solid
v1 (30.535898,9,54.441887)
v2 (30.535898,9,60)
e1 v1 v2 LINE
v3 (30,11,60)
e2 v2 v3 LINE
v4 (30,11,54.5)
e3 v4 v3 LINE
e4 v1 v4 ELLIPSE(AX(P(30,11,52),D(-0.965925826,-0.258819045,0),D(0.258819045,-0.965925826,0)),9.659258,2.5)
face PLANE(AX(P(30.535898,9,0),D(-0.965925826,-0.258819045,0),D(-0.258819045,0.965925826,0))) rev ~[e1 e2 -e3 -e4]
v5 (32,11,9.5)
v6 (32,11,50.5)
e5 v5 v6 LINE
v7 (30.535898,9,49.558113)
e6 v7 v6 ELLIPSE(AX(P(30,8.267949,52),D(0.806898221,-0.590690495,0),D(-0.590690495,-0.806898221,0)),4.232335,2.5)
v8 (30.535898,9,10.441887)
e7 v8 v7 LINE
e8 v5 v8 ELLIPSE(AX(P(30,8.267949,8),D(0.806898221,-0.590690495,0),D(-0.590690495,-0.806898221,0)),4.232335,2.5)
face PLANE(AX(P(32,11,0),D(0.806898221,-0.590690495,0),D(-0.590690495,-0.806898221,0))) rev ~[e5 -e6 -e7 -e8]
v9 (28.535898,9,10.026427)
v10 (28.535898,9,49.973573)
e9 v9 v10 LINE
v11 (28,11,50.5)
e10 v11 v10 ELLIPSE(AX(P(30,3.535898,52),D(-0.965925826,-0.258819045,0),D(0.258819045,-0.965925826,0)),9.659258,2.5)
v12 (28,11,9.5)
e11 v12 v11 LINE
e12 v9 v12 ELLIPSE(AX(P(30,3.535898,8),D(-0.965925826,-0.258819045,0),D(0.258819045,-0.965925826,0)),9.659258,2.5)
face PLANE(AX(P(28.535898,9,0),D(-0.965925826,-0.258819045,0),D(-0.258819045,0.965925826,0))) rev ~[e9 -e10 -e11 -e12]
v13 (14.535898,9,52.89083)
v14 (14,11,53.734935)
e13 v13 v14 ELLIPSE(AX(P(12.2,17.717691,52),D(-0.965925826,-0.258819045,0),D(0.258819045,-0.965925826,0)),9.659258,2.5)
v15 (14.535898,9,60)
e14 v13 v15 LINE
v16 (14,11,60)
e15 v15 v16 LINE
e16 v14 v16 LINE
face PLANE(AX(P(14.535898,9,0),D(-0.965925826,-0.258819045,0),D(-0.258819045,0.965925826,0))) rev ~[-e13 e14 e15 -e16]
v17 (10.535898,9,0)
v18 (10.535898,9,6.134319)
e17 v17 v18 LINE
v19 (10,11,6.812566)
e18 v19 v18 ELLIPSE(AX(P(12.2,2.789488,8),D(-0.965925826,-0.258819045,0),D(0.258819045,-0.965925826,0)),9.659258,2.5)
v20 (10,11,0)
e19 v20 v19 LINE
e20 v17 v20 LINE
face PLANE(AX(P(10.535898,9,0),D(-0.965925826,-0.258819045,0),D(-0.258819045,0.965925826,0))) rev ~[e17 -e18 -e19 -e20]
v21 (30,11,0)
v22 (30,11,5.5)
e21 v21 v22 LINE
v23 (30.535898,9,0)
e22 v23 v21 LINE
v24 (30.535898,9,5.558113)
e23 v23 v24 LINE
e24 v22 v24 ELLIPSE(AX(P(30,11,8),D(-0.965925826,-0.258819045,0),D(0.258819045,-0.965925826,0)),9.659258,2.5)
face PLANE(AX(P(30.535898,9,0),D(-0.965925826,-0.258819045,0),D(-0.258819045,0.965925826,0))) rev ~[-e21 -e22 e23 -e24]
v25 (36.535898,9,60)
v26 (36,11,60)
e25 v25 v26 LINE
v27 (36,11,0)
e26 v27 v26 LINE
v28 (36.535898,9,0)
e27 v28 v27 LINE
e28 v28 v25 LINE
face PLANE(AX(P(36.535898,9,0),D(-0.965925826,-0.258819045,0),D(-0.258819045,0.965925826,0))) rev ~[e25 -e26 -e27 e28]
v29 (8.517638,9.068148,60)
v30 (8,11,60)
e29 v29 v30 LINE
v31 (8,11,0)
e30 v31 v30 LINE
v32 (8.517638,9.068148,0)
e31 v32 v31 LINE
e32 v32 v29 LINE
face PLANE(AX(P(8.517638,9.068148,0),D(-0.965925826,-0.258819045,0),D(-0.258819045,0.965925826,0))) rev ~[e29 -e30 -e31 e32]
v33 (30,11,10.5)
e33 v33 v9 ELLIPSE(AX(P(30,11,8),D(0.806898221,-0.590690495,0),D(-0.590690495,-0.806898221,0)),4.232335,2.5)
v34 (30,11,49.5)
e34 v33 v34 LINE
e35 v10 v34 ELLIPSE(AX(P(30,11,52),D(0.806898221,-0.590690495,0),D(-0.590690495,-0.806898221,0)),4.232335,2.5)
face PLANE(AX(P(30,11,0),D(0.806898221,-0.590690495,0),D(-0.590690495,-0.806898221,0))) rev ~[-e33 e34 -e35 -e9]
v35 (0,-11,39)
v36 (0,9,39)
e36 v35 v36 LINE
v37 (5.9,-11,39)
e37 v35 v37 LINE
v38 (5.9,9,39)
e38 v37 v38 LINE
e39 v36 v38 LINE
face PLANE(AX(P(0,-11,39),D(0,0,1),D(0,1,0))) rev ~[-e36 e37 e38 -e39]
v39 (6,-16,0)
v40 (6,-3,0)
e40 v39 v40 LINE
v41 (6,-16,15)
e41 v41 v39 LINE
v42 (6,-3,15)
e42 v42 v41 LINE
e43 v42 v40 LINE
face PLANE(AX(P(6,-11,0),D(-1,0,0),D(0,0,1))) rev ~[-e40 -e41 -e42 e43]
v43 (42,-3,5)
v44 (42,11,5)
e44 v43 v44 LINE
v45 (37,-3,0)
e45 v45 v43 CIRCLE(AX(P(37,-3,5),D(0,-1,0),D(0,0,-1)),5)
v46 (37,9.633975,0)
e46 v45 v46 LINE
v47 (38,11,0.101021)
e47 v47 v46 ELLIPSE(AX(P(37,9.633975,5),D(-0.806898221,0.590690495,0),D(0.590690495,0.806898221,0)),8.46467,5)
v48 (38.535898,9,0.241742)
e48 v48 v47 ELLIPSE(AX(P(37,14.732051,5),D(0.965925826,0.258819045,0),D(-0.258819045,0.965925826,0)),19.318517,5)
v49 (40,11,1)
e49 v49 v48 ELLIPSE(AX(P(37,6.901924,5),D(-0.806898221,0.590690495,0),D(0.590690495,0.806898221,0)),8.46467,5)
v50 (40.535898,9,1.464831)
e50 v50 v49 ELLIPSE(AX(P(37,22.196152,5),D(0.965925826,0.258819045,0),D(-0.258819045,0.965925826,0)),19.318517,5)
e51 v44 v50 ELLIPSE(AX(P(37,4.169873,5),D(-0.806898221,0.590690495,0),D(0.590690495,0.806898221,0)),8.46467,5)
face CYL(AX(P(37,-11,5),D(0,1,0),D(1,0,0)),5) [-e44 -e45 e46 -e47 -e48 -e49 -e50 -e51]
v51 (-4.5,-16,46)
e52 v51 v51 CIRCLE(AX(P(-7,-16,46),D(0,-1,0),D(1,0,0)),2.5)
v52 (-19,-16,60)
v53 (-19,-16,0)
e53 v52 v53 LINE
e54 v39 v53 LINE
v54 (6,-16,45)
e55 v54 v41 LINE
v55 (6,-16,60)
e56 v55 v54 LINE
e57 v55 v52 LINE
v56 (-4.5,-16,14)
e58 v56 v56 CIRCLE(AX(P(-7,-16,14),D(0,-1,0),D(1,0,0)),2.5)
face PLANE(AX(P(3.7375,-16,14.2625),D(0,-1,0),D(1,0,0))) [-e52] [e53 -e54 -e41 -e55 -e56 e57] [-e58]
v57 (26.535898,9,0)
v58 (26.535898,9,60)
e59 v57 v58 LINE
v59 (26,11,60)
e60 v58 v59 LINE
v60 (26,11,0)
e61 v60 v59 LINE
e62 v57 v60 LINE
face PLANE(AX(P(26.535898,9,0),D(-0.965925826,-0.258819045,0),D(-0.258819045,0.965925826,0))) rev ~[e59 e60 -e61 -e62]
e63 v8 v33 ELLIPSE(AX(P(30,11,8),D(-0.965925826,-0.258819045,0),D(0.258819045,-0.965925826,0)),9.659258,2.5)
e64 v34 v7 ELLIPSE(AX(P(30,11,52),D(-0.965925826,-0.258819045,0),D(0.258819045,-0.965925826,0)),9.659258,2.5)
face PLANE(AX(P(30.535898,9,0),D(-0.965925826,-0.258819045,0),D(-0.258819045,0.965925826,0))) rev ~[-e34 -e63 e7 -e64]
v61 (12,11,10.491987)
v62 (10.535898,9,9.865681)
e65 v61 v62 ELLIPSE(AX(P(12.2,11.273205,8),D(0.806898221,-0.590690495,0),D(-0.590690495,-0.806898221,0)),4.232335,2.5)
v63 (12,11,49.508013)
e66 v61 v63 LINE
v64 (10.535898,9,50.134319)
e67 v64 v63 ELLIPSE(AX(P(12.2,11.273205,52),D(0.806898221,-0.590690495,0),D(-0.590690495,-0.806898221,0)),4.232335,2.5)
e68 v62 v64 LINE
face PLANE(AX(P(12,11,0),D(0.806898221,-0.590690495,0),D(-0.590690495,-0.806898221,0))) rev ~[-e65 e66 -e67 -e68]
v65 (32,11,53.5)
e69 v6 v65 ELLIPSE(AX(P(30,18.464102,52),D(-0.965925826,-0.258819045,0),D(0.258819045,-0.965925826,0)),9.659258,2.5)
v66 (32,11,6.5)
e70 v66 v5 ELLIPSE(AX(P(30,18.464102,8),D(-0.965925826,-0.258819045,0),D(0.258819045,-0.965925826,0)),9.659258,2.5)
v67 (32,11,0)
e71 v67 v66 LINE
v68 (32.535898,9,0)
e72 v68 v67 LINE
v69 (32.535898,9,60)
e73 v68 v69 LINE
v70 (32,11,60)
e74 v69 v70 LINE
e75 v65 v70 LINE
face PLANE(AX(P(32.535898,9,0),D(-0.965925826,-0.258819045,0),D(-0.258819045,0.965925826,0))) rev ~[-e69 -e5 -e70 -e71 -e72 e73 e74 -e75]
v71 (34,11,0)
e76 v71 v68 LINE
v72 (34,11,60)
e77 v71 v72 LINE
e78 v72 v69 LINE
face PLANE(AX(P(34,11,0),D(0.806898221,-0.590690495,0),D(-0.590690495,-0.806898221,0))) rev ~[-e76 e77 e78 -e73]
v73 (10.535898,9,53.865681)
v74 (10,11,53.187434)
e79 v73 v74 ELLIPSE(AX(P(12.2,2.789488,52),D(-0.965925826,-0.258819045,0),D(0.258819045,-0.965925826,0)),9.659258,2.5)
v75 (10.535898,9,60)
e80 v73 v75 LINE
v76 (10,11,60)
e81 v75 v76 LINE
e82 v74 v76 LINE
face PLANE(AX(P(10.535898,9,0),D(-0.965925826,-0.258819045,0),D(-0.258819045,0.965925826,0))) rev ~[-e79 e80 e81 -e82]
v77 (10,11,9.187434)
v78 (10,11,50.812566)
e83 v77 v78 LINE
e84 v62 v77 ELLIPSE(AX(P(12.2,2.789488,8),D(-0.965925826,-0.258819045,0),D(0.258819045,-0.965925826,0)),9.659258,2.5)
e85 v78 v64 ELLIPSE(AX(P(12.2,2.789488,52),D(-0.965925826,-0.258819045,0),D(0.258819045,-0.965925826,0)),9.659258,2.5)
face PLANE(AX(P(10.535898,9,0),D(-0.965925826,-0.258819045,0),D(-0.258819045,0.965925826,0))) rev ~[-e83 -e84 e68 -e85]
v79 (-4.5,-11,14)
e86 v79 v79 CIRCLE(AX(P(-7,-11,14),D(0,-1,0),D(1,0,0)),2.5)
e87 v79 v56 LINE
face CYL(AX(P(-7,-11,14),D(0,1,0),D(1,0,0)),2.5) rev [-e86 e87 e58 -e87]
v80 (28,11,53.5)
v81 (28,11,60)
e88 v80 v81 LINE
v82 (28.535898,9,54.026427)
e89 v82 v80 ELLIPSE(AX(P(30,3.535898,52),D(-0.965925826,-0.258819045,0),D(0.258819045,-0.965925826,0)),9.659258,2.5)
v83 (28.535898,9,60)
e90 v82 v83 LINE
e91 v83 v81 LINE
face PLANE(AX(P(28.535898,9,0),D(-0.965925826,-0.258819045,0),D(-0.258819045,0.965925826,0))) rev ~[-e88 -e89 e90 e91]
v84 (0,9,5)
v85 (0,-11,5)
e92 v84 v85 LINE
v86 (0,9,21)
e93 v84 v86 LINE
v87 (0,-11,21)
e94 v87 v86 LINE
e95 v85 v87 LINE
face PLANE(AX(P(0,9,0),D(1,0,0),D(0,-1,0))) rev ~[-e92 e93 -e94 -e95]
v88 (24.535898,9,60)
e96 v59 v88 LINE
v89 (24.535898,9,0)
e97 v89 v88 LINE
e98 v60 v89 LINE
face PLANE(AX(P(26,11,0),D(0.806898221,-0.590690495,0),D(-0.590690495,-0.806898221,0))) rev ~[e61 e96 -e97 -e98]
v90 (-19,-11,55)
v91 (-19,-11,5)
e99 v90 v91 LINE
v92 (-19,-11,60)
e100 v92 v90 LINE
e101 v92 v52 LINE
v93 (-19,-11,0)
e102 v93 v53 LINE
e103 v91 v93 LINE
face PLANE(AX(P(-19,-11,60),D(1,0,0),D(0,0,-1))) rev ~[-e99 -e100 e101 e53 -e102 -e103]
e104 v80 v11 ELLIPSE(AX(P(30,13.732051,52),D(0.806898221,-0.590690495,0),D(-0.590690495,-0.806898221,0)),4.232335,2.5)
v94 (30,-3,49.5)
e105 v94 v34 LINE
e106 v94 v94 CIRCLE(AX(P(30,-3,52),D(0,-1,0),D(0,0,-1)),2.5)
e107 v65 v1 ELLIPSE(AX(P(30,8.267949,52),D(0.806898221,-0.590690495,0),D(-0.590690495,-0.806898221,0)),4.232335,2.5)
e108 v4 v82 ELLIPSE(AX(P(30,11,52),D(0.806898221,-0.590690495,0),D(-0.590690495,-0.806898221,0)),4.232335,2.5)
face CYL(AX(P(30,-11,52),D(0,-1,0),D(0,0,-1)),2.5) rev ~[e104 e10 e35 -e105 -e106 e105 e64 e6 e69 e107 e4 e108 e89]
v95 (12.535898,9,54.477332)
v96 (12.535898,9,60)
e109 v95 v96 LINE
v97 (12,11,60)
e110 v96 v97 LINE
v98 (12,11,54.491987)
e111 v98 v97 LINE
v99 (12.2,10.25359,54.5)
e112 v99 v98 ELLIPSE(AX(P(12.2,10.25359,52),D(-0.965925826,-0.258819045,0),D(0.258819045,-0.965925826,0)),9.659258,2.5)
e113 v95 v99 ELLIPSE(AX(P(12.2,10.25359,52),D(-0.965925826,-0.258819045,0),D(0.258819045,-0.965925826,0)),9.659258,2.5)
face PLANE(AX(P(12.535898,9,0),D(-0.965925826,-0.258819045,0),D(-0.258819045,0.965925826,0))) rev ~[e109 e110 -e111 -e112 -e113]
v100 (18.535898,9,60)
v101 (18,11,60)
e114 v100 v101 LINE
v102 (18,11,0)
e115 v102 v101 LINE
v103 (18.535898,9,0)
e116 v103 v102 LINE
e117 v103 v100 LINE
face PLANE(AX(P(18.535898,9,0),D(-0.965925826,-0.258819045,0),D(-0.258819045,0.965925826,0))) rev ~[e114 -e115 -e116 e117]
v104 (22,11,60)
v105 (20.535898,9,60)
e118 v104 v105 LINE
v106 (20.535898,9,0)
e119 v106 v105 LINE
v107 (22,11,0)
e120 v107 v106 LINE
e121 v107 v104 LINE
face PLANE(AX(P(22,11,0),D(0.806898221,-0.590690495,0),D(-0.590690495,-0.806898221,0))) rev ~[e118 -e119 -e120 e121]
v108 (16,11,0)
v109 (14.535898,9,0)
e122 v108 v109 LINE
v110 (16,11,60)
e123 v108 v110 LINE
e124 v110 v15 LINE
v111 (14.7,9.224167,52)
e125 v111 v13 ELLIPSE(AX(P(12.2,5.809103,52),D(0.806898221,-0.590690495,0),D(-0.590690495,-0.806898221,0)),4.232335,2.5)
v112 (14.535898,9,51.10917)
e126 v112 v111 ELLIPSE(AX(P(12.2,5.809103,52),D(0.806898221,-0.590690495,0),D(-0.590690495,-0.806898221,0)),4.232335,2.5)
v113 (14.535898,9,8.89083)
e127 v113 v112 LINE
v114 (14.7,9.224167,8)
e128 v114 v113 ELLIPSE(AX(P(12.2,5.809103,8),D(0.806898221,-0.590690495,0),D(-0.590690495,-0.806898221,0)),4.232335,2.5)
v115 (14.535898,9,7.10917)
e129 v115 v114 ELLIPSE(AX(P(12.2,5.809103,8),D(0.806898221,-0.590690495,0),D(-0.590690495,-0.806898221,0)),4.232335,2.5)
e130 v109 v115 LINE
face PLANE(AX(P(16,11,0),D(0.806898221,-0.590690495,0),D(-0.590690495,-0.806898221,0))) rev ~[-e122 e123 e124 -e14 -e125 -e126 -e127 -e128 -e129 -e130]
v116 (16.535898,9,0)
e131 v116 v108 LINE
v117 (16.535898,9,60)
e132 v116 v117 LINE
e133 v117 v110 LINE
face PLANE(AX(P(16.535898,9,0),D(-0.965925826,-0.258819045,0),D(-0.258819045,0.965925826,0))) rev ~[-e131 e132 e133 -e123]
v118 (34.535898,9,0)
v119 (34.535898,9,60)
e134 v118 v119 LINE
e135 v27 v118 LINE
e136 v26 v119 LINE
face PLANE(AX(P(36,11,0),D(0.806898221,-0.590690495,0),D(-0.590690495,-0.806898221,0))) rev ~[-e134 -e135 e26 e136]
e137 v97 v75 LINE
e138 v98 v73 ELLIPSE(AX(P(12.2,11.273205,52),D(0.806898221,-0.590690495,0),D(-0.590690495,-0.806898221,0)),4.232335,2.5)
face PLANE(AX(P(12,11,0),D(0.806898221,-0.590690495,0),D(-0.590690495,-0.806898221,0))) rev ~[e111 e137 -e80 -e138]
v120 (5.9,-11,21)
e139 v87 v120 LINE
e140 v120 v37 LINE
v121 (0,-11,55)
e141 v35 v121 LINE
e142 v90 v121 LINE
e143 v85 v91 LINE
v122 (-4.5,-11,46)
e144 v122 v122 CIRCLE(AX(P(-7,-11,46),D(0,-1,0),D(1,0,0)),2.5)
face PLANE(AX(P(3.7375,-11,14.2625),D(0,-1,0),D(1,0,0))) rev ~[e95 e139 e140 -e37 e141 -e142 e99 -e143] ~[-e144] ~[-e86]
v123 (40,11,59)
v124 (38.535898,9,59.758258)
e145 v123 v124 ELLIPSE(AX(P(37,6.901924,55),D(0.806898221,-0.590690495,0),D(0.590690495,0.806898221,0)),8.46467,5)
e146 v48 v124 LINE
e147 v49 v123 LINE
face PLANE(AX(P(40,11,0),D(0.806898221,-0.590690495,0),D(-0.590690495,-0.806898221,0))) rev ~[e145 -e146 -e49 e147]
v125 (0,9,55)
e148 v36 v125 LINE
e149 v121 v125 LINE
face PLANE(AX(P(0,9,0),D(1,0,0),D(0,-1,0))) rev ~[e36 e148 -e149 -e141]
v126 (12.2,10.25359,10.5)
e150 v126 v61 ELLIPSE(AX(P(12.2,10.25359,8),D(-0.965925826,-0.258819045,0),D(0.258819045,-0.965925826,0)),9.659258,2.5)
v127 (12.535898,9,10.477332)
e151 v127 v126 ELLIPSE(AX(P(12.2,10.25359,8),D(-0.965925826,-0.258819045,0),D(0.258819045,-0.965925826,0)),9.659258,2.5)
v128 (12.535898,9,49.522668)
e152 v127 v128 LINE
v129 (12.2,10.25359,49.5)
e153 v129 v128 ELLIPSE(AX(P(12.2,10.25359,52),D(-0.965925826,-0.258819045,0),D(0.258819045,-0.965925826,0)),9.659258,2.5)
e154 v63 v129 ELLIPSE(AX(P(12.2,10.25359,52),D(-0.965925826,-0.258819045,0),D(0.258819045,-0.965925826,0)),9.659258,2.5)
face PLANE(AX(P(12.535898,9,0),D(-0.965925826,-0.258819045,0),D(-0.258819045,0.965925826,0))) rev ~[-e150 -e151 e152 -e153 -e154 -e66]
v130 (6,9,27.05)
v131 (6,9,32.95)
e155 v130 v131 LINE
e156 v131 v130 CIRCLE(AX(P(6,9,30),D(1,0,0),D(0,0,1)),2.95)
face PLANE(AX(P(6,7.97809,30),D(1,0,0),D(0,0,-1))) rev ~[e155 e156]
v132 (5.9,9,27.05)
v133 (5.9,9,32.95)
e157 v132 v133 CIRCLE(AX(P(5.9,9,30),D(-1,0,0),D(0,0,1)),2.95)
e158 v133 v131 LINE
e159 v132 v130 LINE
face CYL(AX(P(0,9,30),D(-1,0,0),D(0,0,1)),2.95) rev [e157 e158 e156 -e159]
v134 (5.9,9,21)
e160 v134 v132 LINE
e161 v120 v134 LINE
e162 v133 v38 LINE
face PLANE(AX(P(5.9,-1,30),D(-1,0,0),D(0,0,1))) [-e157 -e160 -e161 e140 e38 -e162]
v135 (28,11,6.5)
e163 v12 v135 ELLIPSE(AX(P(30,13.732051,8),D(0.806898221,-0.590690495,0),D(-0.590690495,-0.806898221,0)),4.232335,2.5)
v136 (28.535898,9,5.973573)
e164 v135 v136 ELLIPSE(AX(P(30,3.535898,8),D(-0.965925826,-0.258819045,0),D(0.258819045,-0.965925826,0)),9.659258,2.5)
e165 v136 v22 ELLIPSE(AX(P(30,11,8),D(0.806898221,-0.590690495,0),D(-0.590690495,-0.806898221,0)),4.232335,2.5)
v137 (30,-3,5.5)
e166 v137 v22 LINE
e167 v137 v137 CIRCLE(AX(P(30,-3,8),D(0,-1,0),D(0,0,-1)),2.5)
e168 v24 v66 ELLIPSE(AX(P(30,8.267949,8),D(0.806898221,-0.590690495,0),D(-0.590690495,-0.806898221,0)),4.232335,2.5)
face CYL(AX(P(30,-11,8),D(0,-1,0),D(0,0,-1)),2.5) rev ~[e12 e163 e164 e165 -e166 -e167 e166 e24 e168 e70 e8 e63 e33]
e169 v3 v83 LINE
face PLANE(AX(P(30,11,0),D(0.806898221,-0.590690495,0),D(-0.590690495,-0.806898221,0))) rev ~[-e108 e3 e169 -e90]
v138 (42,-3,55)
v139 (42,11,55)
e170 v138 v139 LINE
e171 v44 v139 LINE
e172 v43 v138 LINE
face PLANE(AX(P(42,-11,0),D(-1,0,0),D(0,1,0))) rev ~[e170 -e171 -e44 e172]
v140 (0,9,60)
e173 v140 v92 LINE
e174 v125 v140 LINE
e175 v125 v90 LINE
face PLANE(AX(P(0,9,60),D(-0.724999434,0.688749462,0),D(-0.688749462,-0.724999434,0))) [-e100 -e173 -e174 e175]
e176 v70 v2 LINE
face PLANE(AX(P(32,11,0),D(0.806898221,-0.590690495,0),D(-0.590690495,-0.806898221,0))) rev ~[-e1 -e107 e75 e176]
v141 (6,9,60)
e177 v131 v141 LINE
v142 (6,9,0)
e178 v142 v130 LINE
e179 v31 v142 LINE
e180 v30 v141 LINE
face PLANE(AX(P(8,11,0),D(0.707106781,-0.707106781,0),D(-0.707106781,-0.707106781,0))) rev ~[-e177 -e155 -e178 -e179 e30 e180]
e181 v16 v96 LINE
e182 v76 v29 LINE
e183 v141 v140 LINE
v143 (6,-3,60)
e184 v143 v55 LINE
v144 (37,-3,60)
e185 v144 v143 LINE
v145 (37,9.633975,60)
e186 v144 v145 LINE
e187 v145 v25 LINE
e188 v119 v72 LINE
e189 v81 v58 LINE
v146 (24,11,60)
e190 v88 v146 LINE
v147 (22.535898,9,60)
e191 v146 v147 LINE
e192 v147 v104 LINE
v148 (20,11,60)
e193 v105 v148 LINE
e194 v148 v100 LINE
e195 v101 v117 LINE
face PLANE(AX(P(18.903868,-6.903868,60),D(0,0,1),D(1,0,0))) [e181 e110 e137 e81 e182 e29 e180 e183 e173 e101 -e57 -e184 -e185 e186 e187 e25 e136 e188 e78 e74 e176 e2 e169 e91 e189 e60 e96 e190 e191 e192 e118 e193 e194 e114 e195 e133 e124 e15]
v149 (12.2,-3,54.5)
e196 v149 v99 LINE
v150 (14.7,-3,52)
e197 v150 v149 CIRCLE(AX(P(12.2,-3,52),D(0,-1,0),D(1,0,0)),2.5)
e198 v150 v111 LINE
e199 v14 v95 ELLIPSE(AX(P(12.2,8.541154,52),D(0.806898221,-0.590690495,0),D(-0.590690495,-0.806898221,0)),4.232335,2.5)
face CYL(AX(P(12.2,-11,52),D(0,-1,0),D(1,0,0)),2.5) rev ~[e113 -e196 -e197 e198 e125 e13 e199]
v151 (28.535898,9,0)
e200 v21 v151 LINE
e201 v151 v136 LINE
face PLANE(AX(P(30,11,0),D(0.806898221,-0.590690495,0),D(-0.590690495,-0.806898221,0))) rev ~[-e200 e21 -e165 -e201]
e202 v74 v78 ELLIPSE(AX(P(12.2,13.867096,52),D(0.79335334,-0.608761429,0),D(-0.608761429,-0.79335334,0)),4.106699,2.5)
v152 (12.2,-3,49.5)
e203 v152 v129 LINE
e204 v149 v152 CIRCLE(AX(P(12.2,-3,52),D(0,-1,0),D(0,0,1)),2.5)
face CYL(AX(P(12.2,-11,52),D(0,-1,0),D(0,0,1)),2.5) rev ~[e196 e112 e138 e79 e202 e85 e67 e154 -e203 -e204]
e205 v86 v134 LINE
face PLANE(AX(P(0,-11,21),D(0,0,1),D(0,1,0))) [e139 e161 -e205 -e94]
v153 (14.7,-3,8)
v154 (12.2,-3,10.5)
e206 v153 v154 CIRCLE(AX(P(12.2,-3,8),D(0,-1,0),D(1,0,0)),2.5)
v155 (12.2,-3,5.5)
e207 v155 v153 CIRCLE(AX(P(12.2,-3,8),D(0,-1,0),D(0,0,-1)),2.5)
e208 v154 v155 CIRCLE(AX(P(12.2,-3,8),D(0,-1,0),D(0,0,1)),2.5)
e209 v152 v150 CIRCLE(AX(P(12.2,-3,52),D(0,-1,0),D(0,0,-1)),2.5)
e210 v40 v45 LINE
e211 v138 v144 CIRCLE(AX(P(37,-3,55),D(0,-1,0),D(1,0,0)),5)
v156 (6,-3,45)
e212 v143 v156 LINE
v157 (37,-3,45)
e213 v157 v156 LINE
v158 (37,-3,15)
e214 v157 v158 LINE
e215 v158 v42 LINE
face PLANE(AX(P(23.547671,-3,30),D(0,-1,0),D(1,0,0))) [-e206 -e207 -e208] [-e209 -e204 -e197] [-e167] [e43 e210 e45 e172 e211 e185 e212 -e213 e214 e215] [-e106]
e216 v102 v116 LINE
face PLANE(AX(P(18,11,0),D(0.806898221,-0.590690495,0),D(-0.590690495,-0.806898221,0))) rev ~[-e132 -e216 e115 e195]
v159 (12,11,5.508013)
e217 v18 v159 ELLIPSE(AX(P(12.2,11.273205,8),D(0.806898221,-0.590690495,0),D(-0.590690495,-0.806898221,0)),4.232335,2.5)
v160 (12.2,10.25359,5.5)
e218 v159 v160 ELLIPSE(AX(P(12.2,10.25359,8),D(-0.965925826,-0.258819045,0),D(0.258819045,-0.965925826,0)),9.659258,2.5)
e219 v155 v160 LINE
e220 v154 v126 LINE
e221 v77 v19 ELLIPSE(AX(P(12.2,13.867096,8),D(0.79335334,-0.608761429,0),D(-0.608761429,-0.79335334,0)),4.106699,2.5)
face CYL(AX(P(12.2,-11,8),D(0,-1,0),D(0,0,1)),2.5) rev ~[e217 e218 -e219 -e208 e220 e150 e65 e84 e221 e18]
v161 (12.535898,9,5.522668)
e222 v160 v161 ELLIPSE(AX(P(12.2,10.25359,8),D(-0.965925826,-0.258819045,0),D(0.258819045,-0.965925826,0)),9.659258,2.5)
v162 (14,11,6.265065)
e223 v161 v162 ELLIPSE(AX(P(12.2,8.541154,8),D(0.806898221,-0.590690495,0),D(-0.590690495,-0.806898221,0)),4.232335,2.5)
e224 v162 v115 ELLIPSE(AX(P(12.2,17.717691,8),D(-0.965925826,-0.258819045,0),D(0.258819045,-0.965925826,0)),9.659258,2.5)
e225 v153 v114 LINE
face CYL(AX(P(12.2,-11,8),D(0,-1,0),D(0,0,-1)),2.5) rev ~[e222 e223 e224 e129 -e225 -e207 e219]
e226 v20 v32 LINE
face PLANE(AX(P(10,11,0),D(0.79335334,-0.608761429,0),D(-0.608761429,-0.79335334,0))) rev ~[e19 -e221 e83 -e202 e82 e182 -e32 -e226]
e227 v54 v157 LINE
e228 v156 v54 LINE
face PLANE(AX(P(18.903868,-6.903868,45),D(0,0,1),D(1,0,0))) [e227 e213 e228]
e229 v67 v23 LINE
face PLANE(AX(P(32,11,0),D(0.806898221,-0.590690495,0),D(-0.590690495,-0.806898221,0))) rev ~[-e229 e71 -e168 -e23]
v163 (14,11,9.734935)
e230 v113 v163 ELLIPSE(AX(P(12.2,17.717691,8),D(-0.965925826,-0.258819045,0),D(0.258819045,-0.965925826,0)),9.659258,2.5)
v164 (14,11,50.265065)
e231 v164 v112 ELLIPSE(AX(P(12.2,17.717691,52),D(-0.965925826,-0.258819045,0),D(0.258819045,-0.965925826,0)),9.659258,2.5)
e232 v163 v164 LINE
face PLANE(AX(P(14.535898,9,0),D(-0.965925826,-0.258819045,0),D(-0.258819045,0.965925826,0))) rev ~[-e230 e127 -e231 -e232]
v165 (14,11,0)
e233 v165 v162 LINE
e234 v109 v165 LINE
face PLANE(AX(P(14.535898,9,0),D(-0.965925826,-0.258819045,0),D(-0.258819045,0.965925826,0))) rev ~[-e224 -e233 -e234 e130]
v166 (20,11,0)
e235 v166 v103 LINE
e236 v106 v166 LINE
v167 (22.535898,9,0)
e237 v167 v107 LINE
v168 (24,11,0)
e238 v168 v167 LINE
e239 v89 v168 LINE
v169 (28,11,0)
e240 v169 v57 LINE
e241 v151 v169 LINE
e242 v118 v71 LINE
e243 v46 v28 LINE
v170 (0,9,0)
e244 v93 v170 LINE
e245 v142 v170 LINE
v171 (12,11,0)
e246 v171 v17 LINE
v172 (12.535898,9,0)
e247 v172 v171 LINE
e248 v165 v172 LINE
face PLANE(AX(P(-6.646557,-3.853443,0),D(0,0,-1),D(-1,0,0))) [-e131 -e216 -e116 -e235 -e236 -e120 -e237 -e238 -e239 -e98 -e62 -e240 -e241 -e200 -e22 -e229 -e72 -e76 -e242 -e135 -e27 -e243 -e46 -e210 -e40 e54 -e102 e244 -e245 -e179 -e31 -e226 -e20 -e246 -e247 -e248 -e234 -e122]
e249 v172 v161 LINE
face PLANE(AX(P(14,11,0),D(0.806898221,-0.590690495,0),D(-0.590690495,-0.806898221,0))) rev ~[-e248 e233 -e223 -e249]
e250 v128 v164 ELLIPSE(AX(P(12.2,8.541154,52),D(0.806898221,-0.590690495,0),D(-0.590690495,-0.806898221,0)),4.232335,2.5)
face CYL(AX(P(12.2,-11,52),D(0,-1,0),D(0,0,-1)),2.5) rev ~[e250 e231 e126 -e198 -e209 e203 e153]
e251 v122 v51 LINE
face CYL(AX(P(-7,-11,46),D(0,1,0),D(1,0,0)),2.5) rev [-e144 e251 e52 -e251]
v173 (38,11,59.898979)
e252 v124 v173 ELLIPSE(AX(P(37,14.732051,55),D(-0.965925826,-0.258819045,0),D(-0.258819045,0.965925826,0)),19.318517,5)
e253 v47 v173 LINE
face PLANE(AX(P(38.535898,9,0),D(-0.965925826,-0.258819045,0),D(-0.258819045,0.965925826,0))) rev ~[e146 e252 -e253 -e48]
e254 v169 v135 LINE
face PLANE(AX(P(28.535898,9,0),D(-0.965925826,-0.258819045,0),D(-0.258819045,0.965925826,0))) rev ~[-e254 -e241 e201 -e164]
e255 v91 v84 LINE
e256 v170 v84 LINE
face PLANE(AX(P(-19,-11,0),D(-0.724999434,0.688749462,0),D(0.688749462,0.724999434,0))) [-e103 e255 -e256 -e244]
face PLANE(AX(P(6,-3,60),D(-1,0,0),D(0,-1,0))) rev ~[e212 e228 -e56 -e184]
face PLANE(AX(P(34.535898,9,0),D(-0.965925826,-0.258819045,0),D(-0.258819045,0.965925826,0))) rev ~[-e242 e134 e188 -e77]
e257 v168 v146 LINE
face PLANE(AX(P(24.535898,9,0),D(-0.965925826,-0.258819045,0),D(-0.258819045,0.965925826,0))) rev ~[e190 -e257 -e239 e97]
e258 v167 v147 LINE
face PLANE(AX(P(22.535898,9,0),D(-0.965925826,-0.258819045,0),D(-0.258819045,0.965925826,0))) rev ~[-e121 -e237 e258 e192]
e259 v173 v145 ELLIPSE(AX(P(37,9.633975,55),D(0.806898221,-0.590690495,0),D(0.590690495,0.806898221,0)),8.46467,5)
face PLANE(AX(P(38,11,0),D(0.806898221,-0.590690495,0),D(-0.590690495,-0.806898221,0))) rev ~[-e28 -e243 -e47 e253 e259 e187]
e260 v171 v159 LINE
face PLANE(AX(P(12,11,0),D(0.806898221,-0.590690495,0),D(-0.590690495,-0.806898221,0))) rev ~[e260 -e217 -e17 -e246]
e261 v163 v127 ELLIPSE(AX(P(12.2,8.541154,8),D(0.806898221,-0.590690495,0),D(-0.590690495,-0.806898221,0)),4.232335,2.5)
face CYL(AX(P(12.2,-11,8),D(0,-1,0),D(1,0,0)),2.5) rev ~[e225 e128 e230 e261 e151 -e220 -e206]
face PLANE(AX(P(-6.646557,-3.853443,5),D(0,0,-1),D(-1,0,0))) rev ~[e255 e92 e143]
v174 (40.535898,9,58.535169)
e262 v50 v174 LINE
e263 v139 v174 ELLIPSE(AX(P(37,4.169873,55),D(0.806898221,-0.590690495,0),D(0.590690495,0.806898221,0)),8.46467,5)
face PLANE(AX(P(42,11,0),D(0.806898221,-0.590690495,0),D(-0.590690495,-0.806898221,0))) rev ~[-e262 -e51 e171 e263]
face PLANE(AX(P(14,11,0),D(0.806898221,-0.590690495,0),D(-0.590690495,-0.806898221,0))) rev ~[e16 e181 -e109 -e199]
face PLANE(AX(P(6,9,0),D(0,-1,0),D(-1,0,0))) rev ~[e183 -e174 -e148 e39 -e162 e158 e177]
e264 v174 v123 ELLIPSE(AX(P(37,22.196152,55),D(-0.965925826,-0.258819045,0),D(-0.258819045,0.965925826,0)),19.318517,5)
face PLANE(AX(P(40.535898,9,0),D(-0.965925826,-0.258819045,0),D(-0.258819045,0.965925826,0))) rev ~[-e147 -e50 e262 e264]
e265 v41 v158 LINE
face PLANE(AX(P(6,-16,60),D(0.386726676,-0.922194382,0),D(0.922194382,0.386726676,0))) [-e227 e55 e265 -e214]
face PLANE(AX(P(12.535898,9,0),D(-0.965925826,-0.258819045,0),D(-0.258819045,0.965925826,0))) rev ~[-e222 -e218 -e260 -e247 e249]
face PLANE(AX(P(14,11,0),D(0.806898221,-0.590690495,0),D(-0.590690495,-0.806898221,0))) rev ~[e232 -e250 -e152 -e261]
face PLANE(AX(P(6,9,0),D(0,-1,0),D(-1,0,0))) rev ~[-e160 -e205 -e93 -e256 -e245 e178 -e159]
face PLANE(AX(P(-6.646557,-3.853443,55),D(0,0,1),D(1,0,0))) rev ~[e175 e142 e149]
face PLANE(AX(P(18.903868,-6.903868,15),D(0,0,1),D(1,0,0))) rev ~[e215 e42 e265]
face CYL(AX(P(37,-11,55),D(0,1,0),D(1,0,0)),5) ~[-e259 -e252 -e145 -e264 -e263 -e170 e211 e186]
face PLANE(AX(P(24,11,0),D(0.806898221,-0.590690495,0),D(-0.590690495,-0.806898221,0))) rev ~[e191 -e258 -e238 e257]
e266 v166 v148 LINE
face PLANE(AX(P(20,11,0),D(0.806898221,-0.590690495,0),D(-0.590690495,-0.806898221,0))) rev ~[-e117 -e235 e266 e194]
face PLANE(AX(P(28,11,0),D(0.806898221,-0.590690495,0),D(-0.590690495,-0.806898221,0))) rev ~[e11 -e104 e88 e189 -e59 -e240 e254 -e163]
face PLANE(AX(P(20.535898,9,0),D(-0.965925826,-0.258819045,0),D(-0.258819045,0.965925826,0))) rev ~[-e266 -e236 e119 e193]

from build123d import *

# Parameters (mm, degrees)
EXTRUDE_1_DEPTH     = 60
FILLET_1_R          = 5
SKETCH_3_R          = 2.5
CUT_EXTRUDE_2_DEPTH = 77.472217177
CUT_EXTRUDE_4_DEPTH = 6
SKETCH_6_W          = 18
SKETCH_6_H          = 20
CUT_EXTRUDE_5_DEPTH = 5.9
SKETCH_7_R          = 2.5
EXTRUDE_2_DEPTH     = 5
CUT_EXTRUDE_START   = -8
CUT_EXTRUDE_6_DEPTH = 8
EXTRUDE_3_DEPTH     = 5
EXTRUDE_4_DEPTH     = 5
EXTRUDE_5_DEPTH     = 45
CUT_EXTRUDE_7_DEPTH = 15


with BuildPart() as part:
    # 草图1 → 凸台-拉伸1 (new body)
    with BuildSketch(Plane.XY):
        Polygon((0, 9), (0, -11), (42, -11), (42, 11), (40.535898385, 9), (40, 11), (38.535898385, 9), (38, 11), (36.535898385, 9), (36, 11), (34.535898385, 9), (34, 11), (32.535898385, 9), (32, 11), (30.535898385, 9), (30, 11), (28.535898385, 9), (28, 11), (26.535898385, 9), (26, 11), (24.535898385, 9), (24, 11), (22.535898385, 9), (22, 11), (20.535898385, 9), (20, 11), (18.535898385, 9), (18, 11), (16.535898385, 9), (16, 11), (14.535898385, 9), (14, 11), (12.535898385, 9), (12, 11), (10.535898385, 9), (10, 11), (8.51763809, 9.068148347), (8, 11), (6, 9), align=None)
    extrude(amount=EXTRUDE_1_DEPTH)

    # 圆角1
    fillet_1_edges = [part.edges().sort_by_distance(p)[0] for p in [
        (42, 0, 0),
        (42, 0, 60),
    ]]
    fillet(fillet_1_edges, radius=FILLET_1_R)

    # 草图3 → 切除-拉伸2 (cut, through all)
    with BuildSketch(Plane.XZ.offset(11)):
        with Locations(Location((30, 8, 0), (0, 0, 270))):
            Circle(SKETCH_3_R)
        with BuildLine():
            ThreePointArc((14.7, 52), (13.967766953, 53.767766953), (12.2, 54.5))
            Line((12.2, 54.5), (12.2, 49.5))
            ThreePointArc((12.2, 49.5), (13.967766953, 50.232233047), (14.7, 52))
        make_face()
        with BuildLine():
            Line((12.2, 49.5), (12.2, 54.5))
            ThreePointArc((12.2, 54.5), (9.7, 52), (12.2, 49.5))
        make_face()
        with BuildLine():
            ThreePointArc((14.7, 8), (13.967766953, 9.767766953), (12.2, 10.5))
            Line((12.2, 10.5), (12.2, 5.5))
            ThreePointArc((12.2, 5.5), (13.967766953, 6.232233047), (14.7, 8))
        make_face()
        with BuildLine():
            Line((12.2, 5.5), (12.2, 10.5))
            ThreePointArc((12.2, 10.5), (9.7, 8), (12.2, 5.5))
        make_face()
        with Locations(Location((30, 52, 0), (0, 0, 270))):
            Circle(SKETCH_3_R)
    extrude(amount=-CUT_EXTRUDE_2_DEPTH, mode=Mode.SUBTRACT)

    # 草图5 → 切除-拉伸4 (cut)
    with BuildSketch(Plane.ZY):
        with BuildLine():
            Line((27.05, 9), (32.95, 9))
            ThreePointArc((32.95, 9), (30, 6.05), (27.05, 9))
        make_face()
    extrude(amount=-CUT_EXTRUDE_4_DEPTH, mode=Mode.SUBTRACT)

    # 草图6 → 切除-拉伸5 (cut)
    with BuildSketch(Plane.ZY):
        with Locations((30, -1)):
            Rectangle(SKETCH_6_W, SKETCH_6_H)
    extrude(amount=-CUT_EXTRUDE_5_DEPTH, mode=Mode.SUBTRACT)

    # 草图8 → 切除-拉伸6 (cut)
    with BuildSketch(Plane.XZ.offset(11).offset(CUT_EXTRUDE_START)):
        with BuildLine():
            Line((6, 60), (6, 0))
            Line((6, 0), (37, 0))
            ThreePointArc((37, 0), (40.535533906, 1.464466094), (42, 5))
            Line((42, 5), (42, 55))
            ThreePointArc((42, 55), (40.535533906, 58.535533906), (37, 60))
            Line((37, 60), (6, 60))
        make_face()
    extrude(amount=CUT_EXTRUDE_6_DEPTH, mode=Mode.SUBTRACT)



with BuildPart() as body_2:
    # 草图7 → 凸台-拉伸2 (new body)
    # profile 1 of 3: a face of its own
    with BuildSketch(Plane.XZ.offset(11)):
        Polygon((0, 39), (0, 60), (-19, 60), (-19, 0), (0, 0), (0, 21), (5.9, 21), (5.9, 30), (5.9, 39), align=None)
        with Locations((-7, 14)):
            Circle(SKETCH_7_R, mode=Mode.SUBTRACT)
        with Locations((-7, 46)):
            Circle(SKETCH_7_R, mode=Mode.SUBTRACT)
    # profile 2 of 3: a face of its own
    with BuildSketch(Plane.XZ.offset(11)):
        Polygon((6, 30), (6, 60), (0, 60), (0, 39), (5.9, 39), (5.9, 30), align=None)
    # profile 3 of 3: a face of its own
    with BuildSketch(Plane.XZ.offset(11)):
        Polygon((6, 0), (6, 30), (5.9, 30), (5.9, 21), (0, 21), (0, 0), align=None)
    extrude(amount=EXTRUDE_2_DEPTH)


with BuildPart() as part_1:
    add(part.part)

    add(body_2.part)  # 凸台-拉伸3 merges body 2
    # 草图9 → 凸台-拉伸3 (add)
    with BuildSketch(Plane.XY.offset(60)):
        Polygon((0, 9), (-19, -11), (0, -11), align=None)
    extrude(amount=-EXTRUDE_3_DEPTH)

    # 草图10 → 凸台-拉伸4 (add)
    with BuildSketch(Plane(origin=(0, 0, 0), x_dir=(-1, 0, 0), z_dir=(0, 0, -1))):
        Polygon((0, 9), (0, -11), (19, -11), align=None)
    extrude(amount=-EXTRUDE_4_DEPTH)

    # 草图11 → 凸台-拉伸5 (add)
    with BuildSketch(Plane.XY.offset(60)):
        Polygon((6, -3), (6, -16), (37, -3), align=None)
    extrude(amount=-EXTRUDE_5_DEPTH)

    # 草图12 → 切除-拉伸7 (cut)
    with BuildSketch(Plane.XY.offset(60)):
        Polygon((37, -3), (6, -3), (6, -16), align=None)
    extrude(amount=-CUT_EXTRUDE_7_DEPTH, mode=Mode.SUBTRACT)


solid = part_1.part
